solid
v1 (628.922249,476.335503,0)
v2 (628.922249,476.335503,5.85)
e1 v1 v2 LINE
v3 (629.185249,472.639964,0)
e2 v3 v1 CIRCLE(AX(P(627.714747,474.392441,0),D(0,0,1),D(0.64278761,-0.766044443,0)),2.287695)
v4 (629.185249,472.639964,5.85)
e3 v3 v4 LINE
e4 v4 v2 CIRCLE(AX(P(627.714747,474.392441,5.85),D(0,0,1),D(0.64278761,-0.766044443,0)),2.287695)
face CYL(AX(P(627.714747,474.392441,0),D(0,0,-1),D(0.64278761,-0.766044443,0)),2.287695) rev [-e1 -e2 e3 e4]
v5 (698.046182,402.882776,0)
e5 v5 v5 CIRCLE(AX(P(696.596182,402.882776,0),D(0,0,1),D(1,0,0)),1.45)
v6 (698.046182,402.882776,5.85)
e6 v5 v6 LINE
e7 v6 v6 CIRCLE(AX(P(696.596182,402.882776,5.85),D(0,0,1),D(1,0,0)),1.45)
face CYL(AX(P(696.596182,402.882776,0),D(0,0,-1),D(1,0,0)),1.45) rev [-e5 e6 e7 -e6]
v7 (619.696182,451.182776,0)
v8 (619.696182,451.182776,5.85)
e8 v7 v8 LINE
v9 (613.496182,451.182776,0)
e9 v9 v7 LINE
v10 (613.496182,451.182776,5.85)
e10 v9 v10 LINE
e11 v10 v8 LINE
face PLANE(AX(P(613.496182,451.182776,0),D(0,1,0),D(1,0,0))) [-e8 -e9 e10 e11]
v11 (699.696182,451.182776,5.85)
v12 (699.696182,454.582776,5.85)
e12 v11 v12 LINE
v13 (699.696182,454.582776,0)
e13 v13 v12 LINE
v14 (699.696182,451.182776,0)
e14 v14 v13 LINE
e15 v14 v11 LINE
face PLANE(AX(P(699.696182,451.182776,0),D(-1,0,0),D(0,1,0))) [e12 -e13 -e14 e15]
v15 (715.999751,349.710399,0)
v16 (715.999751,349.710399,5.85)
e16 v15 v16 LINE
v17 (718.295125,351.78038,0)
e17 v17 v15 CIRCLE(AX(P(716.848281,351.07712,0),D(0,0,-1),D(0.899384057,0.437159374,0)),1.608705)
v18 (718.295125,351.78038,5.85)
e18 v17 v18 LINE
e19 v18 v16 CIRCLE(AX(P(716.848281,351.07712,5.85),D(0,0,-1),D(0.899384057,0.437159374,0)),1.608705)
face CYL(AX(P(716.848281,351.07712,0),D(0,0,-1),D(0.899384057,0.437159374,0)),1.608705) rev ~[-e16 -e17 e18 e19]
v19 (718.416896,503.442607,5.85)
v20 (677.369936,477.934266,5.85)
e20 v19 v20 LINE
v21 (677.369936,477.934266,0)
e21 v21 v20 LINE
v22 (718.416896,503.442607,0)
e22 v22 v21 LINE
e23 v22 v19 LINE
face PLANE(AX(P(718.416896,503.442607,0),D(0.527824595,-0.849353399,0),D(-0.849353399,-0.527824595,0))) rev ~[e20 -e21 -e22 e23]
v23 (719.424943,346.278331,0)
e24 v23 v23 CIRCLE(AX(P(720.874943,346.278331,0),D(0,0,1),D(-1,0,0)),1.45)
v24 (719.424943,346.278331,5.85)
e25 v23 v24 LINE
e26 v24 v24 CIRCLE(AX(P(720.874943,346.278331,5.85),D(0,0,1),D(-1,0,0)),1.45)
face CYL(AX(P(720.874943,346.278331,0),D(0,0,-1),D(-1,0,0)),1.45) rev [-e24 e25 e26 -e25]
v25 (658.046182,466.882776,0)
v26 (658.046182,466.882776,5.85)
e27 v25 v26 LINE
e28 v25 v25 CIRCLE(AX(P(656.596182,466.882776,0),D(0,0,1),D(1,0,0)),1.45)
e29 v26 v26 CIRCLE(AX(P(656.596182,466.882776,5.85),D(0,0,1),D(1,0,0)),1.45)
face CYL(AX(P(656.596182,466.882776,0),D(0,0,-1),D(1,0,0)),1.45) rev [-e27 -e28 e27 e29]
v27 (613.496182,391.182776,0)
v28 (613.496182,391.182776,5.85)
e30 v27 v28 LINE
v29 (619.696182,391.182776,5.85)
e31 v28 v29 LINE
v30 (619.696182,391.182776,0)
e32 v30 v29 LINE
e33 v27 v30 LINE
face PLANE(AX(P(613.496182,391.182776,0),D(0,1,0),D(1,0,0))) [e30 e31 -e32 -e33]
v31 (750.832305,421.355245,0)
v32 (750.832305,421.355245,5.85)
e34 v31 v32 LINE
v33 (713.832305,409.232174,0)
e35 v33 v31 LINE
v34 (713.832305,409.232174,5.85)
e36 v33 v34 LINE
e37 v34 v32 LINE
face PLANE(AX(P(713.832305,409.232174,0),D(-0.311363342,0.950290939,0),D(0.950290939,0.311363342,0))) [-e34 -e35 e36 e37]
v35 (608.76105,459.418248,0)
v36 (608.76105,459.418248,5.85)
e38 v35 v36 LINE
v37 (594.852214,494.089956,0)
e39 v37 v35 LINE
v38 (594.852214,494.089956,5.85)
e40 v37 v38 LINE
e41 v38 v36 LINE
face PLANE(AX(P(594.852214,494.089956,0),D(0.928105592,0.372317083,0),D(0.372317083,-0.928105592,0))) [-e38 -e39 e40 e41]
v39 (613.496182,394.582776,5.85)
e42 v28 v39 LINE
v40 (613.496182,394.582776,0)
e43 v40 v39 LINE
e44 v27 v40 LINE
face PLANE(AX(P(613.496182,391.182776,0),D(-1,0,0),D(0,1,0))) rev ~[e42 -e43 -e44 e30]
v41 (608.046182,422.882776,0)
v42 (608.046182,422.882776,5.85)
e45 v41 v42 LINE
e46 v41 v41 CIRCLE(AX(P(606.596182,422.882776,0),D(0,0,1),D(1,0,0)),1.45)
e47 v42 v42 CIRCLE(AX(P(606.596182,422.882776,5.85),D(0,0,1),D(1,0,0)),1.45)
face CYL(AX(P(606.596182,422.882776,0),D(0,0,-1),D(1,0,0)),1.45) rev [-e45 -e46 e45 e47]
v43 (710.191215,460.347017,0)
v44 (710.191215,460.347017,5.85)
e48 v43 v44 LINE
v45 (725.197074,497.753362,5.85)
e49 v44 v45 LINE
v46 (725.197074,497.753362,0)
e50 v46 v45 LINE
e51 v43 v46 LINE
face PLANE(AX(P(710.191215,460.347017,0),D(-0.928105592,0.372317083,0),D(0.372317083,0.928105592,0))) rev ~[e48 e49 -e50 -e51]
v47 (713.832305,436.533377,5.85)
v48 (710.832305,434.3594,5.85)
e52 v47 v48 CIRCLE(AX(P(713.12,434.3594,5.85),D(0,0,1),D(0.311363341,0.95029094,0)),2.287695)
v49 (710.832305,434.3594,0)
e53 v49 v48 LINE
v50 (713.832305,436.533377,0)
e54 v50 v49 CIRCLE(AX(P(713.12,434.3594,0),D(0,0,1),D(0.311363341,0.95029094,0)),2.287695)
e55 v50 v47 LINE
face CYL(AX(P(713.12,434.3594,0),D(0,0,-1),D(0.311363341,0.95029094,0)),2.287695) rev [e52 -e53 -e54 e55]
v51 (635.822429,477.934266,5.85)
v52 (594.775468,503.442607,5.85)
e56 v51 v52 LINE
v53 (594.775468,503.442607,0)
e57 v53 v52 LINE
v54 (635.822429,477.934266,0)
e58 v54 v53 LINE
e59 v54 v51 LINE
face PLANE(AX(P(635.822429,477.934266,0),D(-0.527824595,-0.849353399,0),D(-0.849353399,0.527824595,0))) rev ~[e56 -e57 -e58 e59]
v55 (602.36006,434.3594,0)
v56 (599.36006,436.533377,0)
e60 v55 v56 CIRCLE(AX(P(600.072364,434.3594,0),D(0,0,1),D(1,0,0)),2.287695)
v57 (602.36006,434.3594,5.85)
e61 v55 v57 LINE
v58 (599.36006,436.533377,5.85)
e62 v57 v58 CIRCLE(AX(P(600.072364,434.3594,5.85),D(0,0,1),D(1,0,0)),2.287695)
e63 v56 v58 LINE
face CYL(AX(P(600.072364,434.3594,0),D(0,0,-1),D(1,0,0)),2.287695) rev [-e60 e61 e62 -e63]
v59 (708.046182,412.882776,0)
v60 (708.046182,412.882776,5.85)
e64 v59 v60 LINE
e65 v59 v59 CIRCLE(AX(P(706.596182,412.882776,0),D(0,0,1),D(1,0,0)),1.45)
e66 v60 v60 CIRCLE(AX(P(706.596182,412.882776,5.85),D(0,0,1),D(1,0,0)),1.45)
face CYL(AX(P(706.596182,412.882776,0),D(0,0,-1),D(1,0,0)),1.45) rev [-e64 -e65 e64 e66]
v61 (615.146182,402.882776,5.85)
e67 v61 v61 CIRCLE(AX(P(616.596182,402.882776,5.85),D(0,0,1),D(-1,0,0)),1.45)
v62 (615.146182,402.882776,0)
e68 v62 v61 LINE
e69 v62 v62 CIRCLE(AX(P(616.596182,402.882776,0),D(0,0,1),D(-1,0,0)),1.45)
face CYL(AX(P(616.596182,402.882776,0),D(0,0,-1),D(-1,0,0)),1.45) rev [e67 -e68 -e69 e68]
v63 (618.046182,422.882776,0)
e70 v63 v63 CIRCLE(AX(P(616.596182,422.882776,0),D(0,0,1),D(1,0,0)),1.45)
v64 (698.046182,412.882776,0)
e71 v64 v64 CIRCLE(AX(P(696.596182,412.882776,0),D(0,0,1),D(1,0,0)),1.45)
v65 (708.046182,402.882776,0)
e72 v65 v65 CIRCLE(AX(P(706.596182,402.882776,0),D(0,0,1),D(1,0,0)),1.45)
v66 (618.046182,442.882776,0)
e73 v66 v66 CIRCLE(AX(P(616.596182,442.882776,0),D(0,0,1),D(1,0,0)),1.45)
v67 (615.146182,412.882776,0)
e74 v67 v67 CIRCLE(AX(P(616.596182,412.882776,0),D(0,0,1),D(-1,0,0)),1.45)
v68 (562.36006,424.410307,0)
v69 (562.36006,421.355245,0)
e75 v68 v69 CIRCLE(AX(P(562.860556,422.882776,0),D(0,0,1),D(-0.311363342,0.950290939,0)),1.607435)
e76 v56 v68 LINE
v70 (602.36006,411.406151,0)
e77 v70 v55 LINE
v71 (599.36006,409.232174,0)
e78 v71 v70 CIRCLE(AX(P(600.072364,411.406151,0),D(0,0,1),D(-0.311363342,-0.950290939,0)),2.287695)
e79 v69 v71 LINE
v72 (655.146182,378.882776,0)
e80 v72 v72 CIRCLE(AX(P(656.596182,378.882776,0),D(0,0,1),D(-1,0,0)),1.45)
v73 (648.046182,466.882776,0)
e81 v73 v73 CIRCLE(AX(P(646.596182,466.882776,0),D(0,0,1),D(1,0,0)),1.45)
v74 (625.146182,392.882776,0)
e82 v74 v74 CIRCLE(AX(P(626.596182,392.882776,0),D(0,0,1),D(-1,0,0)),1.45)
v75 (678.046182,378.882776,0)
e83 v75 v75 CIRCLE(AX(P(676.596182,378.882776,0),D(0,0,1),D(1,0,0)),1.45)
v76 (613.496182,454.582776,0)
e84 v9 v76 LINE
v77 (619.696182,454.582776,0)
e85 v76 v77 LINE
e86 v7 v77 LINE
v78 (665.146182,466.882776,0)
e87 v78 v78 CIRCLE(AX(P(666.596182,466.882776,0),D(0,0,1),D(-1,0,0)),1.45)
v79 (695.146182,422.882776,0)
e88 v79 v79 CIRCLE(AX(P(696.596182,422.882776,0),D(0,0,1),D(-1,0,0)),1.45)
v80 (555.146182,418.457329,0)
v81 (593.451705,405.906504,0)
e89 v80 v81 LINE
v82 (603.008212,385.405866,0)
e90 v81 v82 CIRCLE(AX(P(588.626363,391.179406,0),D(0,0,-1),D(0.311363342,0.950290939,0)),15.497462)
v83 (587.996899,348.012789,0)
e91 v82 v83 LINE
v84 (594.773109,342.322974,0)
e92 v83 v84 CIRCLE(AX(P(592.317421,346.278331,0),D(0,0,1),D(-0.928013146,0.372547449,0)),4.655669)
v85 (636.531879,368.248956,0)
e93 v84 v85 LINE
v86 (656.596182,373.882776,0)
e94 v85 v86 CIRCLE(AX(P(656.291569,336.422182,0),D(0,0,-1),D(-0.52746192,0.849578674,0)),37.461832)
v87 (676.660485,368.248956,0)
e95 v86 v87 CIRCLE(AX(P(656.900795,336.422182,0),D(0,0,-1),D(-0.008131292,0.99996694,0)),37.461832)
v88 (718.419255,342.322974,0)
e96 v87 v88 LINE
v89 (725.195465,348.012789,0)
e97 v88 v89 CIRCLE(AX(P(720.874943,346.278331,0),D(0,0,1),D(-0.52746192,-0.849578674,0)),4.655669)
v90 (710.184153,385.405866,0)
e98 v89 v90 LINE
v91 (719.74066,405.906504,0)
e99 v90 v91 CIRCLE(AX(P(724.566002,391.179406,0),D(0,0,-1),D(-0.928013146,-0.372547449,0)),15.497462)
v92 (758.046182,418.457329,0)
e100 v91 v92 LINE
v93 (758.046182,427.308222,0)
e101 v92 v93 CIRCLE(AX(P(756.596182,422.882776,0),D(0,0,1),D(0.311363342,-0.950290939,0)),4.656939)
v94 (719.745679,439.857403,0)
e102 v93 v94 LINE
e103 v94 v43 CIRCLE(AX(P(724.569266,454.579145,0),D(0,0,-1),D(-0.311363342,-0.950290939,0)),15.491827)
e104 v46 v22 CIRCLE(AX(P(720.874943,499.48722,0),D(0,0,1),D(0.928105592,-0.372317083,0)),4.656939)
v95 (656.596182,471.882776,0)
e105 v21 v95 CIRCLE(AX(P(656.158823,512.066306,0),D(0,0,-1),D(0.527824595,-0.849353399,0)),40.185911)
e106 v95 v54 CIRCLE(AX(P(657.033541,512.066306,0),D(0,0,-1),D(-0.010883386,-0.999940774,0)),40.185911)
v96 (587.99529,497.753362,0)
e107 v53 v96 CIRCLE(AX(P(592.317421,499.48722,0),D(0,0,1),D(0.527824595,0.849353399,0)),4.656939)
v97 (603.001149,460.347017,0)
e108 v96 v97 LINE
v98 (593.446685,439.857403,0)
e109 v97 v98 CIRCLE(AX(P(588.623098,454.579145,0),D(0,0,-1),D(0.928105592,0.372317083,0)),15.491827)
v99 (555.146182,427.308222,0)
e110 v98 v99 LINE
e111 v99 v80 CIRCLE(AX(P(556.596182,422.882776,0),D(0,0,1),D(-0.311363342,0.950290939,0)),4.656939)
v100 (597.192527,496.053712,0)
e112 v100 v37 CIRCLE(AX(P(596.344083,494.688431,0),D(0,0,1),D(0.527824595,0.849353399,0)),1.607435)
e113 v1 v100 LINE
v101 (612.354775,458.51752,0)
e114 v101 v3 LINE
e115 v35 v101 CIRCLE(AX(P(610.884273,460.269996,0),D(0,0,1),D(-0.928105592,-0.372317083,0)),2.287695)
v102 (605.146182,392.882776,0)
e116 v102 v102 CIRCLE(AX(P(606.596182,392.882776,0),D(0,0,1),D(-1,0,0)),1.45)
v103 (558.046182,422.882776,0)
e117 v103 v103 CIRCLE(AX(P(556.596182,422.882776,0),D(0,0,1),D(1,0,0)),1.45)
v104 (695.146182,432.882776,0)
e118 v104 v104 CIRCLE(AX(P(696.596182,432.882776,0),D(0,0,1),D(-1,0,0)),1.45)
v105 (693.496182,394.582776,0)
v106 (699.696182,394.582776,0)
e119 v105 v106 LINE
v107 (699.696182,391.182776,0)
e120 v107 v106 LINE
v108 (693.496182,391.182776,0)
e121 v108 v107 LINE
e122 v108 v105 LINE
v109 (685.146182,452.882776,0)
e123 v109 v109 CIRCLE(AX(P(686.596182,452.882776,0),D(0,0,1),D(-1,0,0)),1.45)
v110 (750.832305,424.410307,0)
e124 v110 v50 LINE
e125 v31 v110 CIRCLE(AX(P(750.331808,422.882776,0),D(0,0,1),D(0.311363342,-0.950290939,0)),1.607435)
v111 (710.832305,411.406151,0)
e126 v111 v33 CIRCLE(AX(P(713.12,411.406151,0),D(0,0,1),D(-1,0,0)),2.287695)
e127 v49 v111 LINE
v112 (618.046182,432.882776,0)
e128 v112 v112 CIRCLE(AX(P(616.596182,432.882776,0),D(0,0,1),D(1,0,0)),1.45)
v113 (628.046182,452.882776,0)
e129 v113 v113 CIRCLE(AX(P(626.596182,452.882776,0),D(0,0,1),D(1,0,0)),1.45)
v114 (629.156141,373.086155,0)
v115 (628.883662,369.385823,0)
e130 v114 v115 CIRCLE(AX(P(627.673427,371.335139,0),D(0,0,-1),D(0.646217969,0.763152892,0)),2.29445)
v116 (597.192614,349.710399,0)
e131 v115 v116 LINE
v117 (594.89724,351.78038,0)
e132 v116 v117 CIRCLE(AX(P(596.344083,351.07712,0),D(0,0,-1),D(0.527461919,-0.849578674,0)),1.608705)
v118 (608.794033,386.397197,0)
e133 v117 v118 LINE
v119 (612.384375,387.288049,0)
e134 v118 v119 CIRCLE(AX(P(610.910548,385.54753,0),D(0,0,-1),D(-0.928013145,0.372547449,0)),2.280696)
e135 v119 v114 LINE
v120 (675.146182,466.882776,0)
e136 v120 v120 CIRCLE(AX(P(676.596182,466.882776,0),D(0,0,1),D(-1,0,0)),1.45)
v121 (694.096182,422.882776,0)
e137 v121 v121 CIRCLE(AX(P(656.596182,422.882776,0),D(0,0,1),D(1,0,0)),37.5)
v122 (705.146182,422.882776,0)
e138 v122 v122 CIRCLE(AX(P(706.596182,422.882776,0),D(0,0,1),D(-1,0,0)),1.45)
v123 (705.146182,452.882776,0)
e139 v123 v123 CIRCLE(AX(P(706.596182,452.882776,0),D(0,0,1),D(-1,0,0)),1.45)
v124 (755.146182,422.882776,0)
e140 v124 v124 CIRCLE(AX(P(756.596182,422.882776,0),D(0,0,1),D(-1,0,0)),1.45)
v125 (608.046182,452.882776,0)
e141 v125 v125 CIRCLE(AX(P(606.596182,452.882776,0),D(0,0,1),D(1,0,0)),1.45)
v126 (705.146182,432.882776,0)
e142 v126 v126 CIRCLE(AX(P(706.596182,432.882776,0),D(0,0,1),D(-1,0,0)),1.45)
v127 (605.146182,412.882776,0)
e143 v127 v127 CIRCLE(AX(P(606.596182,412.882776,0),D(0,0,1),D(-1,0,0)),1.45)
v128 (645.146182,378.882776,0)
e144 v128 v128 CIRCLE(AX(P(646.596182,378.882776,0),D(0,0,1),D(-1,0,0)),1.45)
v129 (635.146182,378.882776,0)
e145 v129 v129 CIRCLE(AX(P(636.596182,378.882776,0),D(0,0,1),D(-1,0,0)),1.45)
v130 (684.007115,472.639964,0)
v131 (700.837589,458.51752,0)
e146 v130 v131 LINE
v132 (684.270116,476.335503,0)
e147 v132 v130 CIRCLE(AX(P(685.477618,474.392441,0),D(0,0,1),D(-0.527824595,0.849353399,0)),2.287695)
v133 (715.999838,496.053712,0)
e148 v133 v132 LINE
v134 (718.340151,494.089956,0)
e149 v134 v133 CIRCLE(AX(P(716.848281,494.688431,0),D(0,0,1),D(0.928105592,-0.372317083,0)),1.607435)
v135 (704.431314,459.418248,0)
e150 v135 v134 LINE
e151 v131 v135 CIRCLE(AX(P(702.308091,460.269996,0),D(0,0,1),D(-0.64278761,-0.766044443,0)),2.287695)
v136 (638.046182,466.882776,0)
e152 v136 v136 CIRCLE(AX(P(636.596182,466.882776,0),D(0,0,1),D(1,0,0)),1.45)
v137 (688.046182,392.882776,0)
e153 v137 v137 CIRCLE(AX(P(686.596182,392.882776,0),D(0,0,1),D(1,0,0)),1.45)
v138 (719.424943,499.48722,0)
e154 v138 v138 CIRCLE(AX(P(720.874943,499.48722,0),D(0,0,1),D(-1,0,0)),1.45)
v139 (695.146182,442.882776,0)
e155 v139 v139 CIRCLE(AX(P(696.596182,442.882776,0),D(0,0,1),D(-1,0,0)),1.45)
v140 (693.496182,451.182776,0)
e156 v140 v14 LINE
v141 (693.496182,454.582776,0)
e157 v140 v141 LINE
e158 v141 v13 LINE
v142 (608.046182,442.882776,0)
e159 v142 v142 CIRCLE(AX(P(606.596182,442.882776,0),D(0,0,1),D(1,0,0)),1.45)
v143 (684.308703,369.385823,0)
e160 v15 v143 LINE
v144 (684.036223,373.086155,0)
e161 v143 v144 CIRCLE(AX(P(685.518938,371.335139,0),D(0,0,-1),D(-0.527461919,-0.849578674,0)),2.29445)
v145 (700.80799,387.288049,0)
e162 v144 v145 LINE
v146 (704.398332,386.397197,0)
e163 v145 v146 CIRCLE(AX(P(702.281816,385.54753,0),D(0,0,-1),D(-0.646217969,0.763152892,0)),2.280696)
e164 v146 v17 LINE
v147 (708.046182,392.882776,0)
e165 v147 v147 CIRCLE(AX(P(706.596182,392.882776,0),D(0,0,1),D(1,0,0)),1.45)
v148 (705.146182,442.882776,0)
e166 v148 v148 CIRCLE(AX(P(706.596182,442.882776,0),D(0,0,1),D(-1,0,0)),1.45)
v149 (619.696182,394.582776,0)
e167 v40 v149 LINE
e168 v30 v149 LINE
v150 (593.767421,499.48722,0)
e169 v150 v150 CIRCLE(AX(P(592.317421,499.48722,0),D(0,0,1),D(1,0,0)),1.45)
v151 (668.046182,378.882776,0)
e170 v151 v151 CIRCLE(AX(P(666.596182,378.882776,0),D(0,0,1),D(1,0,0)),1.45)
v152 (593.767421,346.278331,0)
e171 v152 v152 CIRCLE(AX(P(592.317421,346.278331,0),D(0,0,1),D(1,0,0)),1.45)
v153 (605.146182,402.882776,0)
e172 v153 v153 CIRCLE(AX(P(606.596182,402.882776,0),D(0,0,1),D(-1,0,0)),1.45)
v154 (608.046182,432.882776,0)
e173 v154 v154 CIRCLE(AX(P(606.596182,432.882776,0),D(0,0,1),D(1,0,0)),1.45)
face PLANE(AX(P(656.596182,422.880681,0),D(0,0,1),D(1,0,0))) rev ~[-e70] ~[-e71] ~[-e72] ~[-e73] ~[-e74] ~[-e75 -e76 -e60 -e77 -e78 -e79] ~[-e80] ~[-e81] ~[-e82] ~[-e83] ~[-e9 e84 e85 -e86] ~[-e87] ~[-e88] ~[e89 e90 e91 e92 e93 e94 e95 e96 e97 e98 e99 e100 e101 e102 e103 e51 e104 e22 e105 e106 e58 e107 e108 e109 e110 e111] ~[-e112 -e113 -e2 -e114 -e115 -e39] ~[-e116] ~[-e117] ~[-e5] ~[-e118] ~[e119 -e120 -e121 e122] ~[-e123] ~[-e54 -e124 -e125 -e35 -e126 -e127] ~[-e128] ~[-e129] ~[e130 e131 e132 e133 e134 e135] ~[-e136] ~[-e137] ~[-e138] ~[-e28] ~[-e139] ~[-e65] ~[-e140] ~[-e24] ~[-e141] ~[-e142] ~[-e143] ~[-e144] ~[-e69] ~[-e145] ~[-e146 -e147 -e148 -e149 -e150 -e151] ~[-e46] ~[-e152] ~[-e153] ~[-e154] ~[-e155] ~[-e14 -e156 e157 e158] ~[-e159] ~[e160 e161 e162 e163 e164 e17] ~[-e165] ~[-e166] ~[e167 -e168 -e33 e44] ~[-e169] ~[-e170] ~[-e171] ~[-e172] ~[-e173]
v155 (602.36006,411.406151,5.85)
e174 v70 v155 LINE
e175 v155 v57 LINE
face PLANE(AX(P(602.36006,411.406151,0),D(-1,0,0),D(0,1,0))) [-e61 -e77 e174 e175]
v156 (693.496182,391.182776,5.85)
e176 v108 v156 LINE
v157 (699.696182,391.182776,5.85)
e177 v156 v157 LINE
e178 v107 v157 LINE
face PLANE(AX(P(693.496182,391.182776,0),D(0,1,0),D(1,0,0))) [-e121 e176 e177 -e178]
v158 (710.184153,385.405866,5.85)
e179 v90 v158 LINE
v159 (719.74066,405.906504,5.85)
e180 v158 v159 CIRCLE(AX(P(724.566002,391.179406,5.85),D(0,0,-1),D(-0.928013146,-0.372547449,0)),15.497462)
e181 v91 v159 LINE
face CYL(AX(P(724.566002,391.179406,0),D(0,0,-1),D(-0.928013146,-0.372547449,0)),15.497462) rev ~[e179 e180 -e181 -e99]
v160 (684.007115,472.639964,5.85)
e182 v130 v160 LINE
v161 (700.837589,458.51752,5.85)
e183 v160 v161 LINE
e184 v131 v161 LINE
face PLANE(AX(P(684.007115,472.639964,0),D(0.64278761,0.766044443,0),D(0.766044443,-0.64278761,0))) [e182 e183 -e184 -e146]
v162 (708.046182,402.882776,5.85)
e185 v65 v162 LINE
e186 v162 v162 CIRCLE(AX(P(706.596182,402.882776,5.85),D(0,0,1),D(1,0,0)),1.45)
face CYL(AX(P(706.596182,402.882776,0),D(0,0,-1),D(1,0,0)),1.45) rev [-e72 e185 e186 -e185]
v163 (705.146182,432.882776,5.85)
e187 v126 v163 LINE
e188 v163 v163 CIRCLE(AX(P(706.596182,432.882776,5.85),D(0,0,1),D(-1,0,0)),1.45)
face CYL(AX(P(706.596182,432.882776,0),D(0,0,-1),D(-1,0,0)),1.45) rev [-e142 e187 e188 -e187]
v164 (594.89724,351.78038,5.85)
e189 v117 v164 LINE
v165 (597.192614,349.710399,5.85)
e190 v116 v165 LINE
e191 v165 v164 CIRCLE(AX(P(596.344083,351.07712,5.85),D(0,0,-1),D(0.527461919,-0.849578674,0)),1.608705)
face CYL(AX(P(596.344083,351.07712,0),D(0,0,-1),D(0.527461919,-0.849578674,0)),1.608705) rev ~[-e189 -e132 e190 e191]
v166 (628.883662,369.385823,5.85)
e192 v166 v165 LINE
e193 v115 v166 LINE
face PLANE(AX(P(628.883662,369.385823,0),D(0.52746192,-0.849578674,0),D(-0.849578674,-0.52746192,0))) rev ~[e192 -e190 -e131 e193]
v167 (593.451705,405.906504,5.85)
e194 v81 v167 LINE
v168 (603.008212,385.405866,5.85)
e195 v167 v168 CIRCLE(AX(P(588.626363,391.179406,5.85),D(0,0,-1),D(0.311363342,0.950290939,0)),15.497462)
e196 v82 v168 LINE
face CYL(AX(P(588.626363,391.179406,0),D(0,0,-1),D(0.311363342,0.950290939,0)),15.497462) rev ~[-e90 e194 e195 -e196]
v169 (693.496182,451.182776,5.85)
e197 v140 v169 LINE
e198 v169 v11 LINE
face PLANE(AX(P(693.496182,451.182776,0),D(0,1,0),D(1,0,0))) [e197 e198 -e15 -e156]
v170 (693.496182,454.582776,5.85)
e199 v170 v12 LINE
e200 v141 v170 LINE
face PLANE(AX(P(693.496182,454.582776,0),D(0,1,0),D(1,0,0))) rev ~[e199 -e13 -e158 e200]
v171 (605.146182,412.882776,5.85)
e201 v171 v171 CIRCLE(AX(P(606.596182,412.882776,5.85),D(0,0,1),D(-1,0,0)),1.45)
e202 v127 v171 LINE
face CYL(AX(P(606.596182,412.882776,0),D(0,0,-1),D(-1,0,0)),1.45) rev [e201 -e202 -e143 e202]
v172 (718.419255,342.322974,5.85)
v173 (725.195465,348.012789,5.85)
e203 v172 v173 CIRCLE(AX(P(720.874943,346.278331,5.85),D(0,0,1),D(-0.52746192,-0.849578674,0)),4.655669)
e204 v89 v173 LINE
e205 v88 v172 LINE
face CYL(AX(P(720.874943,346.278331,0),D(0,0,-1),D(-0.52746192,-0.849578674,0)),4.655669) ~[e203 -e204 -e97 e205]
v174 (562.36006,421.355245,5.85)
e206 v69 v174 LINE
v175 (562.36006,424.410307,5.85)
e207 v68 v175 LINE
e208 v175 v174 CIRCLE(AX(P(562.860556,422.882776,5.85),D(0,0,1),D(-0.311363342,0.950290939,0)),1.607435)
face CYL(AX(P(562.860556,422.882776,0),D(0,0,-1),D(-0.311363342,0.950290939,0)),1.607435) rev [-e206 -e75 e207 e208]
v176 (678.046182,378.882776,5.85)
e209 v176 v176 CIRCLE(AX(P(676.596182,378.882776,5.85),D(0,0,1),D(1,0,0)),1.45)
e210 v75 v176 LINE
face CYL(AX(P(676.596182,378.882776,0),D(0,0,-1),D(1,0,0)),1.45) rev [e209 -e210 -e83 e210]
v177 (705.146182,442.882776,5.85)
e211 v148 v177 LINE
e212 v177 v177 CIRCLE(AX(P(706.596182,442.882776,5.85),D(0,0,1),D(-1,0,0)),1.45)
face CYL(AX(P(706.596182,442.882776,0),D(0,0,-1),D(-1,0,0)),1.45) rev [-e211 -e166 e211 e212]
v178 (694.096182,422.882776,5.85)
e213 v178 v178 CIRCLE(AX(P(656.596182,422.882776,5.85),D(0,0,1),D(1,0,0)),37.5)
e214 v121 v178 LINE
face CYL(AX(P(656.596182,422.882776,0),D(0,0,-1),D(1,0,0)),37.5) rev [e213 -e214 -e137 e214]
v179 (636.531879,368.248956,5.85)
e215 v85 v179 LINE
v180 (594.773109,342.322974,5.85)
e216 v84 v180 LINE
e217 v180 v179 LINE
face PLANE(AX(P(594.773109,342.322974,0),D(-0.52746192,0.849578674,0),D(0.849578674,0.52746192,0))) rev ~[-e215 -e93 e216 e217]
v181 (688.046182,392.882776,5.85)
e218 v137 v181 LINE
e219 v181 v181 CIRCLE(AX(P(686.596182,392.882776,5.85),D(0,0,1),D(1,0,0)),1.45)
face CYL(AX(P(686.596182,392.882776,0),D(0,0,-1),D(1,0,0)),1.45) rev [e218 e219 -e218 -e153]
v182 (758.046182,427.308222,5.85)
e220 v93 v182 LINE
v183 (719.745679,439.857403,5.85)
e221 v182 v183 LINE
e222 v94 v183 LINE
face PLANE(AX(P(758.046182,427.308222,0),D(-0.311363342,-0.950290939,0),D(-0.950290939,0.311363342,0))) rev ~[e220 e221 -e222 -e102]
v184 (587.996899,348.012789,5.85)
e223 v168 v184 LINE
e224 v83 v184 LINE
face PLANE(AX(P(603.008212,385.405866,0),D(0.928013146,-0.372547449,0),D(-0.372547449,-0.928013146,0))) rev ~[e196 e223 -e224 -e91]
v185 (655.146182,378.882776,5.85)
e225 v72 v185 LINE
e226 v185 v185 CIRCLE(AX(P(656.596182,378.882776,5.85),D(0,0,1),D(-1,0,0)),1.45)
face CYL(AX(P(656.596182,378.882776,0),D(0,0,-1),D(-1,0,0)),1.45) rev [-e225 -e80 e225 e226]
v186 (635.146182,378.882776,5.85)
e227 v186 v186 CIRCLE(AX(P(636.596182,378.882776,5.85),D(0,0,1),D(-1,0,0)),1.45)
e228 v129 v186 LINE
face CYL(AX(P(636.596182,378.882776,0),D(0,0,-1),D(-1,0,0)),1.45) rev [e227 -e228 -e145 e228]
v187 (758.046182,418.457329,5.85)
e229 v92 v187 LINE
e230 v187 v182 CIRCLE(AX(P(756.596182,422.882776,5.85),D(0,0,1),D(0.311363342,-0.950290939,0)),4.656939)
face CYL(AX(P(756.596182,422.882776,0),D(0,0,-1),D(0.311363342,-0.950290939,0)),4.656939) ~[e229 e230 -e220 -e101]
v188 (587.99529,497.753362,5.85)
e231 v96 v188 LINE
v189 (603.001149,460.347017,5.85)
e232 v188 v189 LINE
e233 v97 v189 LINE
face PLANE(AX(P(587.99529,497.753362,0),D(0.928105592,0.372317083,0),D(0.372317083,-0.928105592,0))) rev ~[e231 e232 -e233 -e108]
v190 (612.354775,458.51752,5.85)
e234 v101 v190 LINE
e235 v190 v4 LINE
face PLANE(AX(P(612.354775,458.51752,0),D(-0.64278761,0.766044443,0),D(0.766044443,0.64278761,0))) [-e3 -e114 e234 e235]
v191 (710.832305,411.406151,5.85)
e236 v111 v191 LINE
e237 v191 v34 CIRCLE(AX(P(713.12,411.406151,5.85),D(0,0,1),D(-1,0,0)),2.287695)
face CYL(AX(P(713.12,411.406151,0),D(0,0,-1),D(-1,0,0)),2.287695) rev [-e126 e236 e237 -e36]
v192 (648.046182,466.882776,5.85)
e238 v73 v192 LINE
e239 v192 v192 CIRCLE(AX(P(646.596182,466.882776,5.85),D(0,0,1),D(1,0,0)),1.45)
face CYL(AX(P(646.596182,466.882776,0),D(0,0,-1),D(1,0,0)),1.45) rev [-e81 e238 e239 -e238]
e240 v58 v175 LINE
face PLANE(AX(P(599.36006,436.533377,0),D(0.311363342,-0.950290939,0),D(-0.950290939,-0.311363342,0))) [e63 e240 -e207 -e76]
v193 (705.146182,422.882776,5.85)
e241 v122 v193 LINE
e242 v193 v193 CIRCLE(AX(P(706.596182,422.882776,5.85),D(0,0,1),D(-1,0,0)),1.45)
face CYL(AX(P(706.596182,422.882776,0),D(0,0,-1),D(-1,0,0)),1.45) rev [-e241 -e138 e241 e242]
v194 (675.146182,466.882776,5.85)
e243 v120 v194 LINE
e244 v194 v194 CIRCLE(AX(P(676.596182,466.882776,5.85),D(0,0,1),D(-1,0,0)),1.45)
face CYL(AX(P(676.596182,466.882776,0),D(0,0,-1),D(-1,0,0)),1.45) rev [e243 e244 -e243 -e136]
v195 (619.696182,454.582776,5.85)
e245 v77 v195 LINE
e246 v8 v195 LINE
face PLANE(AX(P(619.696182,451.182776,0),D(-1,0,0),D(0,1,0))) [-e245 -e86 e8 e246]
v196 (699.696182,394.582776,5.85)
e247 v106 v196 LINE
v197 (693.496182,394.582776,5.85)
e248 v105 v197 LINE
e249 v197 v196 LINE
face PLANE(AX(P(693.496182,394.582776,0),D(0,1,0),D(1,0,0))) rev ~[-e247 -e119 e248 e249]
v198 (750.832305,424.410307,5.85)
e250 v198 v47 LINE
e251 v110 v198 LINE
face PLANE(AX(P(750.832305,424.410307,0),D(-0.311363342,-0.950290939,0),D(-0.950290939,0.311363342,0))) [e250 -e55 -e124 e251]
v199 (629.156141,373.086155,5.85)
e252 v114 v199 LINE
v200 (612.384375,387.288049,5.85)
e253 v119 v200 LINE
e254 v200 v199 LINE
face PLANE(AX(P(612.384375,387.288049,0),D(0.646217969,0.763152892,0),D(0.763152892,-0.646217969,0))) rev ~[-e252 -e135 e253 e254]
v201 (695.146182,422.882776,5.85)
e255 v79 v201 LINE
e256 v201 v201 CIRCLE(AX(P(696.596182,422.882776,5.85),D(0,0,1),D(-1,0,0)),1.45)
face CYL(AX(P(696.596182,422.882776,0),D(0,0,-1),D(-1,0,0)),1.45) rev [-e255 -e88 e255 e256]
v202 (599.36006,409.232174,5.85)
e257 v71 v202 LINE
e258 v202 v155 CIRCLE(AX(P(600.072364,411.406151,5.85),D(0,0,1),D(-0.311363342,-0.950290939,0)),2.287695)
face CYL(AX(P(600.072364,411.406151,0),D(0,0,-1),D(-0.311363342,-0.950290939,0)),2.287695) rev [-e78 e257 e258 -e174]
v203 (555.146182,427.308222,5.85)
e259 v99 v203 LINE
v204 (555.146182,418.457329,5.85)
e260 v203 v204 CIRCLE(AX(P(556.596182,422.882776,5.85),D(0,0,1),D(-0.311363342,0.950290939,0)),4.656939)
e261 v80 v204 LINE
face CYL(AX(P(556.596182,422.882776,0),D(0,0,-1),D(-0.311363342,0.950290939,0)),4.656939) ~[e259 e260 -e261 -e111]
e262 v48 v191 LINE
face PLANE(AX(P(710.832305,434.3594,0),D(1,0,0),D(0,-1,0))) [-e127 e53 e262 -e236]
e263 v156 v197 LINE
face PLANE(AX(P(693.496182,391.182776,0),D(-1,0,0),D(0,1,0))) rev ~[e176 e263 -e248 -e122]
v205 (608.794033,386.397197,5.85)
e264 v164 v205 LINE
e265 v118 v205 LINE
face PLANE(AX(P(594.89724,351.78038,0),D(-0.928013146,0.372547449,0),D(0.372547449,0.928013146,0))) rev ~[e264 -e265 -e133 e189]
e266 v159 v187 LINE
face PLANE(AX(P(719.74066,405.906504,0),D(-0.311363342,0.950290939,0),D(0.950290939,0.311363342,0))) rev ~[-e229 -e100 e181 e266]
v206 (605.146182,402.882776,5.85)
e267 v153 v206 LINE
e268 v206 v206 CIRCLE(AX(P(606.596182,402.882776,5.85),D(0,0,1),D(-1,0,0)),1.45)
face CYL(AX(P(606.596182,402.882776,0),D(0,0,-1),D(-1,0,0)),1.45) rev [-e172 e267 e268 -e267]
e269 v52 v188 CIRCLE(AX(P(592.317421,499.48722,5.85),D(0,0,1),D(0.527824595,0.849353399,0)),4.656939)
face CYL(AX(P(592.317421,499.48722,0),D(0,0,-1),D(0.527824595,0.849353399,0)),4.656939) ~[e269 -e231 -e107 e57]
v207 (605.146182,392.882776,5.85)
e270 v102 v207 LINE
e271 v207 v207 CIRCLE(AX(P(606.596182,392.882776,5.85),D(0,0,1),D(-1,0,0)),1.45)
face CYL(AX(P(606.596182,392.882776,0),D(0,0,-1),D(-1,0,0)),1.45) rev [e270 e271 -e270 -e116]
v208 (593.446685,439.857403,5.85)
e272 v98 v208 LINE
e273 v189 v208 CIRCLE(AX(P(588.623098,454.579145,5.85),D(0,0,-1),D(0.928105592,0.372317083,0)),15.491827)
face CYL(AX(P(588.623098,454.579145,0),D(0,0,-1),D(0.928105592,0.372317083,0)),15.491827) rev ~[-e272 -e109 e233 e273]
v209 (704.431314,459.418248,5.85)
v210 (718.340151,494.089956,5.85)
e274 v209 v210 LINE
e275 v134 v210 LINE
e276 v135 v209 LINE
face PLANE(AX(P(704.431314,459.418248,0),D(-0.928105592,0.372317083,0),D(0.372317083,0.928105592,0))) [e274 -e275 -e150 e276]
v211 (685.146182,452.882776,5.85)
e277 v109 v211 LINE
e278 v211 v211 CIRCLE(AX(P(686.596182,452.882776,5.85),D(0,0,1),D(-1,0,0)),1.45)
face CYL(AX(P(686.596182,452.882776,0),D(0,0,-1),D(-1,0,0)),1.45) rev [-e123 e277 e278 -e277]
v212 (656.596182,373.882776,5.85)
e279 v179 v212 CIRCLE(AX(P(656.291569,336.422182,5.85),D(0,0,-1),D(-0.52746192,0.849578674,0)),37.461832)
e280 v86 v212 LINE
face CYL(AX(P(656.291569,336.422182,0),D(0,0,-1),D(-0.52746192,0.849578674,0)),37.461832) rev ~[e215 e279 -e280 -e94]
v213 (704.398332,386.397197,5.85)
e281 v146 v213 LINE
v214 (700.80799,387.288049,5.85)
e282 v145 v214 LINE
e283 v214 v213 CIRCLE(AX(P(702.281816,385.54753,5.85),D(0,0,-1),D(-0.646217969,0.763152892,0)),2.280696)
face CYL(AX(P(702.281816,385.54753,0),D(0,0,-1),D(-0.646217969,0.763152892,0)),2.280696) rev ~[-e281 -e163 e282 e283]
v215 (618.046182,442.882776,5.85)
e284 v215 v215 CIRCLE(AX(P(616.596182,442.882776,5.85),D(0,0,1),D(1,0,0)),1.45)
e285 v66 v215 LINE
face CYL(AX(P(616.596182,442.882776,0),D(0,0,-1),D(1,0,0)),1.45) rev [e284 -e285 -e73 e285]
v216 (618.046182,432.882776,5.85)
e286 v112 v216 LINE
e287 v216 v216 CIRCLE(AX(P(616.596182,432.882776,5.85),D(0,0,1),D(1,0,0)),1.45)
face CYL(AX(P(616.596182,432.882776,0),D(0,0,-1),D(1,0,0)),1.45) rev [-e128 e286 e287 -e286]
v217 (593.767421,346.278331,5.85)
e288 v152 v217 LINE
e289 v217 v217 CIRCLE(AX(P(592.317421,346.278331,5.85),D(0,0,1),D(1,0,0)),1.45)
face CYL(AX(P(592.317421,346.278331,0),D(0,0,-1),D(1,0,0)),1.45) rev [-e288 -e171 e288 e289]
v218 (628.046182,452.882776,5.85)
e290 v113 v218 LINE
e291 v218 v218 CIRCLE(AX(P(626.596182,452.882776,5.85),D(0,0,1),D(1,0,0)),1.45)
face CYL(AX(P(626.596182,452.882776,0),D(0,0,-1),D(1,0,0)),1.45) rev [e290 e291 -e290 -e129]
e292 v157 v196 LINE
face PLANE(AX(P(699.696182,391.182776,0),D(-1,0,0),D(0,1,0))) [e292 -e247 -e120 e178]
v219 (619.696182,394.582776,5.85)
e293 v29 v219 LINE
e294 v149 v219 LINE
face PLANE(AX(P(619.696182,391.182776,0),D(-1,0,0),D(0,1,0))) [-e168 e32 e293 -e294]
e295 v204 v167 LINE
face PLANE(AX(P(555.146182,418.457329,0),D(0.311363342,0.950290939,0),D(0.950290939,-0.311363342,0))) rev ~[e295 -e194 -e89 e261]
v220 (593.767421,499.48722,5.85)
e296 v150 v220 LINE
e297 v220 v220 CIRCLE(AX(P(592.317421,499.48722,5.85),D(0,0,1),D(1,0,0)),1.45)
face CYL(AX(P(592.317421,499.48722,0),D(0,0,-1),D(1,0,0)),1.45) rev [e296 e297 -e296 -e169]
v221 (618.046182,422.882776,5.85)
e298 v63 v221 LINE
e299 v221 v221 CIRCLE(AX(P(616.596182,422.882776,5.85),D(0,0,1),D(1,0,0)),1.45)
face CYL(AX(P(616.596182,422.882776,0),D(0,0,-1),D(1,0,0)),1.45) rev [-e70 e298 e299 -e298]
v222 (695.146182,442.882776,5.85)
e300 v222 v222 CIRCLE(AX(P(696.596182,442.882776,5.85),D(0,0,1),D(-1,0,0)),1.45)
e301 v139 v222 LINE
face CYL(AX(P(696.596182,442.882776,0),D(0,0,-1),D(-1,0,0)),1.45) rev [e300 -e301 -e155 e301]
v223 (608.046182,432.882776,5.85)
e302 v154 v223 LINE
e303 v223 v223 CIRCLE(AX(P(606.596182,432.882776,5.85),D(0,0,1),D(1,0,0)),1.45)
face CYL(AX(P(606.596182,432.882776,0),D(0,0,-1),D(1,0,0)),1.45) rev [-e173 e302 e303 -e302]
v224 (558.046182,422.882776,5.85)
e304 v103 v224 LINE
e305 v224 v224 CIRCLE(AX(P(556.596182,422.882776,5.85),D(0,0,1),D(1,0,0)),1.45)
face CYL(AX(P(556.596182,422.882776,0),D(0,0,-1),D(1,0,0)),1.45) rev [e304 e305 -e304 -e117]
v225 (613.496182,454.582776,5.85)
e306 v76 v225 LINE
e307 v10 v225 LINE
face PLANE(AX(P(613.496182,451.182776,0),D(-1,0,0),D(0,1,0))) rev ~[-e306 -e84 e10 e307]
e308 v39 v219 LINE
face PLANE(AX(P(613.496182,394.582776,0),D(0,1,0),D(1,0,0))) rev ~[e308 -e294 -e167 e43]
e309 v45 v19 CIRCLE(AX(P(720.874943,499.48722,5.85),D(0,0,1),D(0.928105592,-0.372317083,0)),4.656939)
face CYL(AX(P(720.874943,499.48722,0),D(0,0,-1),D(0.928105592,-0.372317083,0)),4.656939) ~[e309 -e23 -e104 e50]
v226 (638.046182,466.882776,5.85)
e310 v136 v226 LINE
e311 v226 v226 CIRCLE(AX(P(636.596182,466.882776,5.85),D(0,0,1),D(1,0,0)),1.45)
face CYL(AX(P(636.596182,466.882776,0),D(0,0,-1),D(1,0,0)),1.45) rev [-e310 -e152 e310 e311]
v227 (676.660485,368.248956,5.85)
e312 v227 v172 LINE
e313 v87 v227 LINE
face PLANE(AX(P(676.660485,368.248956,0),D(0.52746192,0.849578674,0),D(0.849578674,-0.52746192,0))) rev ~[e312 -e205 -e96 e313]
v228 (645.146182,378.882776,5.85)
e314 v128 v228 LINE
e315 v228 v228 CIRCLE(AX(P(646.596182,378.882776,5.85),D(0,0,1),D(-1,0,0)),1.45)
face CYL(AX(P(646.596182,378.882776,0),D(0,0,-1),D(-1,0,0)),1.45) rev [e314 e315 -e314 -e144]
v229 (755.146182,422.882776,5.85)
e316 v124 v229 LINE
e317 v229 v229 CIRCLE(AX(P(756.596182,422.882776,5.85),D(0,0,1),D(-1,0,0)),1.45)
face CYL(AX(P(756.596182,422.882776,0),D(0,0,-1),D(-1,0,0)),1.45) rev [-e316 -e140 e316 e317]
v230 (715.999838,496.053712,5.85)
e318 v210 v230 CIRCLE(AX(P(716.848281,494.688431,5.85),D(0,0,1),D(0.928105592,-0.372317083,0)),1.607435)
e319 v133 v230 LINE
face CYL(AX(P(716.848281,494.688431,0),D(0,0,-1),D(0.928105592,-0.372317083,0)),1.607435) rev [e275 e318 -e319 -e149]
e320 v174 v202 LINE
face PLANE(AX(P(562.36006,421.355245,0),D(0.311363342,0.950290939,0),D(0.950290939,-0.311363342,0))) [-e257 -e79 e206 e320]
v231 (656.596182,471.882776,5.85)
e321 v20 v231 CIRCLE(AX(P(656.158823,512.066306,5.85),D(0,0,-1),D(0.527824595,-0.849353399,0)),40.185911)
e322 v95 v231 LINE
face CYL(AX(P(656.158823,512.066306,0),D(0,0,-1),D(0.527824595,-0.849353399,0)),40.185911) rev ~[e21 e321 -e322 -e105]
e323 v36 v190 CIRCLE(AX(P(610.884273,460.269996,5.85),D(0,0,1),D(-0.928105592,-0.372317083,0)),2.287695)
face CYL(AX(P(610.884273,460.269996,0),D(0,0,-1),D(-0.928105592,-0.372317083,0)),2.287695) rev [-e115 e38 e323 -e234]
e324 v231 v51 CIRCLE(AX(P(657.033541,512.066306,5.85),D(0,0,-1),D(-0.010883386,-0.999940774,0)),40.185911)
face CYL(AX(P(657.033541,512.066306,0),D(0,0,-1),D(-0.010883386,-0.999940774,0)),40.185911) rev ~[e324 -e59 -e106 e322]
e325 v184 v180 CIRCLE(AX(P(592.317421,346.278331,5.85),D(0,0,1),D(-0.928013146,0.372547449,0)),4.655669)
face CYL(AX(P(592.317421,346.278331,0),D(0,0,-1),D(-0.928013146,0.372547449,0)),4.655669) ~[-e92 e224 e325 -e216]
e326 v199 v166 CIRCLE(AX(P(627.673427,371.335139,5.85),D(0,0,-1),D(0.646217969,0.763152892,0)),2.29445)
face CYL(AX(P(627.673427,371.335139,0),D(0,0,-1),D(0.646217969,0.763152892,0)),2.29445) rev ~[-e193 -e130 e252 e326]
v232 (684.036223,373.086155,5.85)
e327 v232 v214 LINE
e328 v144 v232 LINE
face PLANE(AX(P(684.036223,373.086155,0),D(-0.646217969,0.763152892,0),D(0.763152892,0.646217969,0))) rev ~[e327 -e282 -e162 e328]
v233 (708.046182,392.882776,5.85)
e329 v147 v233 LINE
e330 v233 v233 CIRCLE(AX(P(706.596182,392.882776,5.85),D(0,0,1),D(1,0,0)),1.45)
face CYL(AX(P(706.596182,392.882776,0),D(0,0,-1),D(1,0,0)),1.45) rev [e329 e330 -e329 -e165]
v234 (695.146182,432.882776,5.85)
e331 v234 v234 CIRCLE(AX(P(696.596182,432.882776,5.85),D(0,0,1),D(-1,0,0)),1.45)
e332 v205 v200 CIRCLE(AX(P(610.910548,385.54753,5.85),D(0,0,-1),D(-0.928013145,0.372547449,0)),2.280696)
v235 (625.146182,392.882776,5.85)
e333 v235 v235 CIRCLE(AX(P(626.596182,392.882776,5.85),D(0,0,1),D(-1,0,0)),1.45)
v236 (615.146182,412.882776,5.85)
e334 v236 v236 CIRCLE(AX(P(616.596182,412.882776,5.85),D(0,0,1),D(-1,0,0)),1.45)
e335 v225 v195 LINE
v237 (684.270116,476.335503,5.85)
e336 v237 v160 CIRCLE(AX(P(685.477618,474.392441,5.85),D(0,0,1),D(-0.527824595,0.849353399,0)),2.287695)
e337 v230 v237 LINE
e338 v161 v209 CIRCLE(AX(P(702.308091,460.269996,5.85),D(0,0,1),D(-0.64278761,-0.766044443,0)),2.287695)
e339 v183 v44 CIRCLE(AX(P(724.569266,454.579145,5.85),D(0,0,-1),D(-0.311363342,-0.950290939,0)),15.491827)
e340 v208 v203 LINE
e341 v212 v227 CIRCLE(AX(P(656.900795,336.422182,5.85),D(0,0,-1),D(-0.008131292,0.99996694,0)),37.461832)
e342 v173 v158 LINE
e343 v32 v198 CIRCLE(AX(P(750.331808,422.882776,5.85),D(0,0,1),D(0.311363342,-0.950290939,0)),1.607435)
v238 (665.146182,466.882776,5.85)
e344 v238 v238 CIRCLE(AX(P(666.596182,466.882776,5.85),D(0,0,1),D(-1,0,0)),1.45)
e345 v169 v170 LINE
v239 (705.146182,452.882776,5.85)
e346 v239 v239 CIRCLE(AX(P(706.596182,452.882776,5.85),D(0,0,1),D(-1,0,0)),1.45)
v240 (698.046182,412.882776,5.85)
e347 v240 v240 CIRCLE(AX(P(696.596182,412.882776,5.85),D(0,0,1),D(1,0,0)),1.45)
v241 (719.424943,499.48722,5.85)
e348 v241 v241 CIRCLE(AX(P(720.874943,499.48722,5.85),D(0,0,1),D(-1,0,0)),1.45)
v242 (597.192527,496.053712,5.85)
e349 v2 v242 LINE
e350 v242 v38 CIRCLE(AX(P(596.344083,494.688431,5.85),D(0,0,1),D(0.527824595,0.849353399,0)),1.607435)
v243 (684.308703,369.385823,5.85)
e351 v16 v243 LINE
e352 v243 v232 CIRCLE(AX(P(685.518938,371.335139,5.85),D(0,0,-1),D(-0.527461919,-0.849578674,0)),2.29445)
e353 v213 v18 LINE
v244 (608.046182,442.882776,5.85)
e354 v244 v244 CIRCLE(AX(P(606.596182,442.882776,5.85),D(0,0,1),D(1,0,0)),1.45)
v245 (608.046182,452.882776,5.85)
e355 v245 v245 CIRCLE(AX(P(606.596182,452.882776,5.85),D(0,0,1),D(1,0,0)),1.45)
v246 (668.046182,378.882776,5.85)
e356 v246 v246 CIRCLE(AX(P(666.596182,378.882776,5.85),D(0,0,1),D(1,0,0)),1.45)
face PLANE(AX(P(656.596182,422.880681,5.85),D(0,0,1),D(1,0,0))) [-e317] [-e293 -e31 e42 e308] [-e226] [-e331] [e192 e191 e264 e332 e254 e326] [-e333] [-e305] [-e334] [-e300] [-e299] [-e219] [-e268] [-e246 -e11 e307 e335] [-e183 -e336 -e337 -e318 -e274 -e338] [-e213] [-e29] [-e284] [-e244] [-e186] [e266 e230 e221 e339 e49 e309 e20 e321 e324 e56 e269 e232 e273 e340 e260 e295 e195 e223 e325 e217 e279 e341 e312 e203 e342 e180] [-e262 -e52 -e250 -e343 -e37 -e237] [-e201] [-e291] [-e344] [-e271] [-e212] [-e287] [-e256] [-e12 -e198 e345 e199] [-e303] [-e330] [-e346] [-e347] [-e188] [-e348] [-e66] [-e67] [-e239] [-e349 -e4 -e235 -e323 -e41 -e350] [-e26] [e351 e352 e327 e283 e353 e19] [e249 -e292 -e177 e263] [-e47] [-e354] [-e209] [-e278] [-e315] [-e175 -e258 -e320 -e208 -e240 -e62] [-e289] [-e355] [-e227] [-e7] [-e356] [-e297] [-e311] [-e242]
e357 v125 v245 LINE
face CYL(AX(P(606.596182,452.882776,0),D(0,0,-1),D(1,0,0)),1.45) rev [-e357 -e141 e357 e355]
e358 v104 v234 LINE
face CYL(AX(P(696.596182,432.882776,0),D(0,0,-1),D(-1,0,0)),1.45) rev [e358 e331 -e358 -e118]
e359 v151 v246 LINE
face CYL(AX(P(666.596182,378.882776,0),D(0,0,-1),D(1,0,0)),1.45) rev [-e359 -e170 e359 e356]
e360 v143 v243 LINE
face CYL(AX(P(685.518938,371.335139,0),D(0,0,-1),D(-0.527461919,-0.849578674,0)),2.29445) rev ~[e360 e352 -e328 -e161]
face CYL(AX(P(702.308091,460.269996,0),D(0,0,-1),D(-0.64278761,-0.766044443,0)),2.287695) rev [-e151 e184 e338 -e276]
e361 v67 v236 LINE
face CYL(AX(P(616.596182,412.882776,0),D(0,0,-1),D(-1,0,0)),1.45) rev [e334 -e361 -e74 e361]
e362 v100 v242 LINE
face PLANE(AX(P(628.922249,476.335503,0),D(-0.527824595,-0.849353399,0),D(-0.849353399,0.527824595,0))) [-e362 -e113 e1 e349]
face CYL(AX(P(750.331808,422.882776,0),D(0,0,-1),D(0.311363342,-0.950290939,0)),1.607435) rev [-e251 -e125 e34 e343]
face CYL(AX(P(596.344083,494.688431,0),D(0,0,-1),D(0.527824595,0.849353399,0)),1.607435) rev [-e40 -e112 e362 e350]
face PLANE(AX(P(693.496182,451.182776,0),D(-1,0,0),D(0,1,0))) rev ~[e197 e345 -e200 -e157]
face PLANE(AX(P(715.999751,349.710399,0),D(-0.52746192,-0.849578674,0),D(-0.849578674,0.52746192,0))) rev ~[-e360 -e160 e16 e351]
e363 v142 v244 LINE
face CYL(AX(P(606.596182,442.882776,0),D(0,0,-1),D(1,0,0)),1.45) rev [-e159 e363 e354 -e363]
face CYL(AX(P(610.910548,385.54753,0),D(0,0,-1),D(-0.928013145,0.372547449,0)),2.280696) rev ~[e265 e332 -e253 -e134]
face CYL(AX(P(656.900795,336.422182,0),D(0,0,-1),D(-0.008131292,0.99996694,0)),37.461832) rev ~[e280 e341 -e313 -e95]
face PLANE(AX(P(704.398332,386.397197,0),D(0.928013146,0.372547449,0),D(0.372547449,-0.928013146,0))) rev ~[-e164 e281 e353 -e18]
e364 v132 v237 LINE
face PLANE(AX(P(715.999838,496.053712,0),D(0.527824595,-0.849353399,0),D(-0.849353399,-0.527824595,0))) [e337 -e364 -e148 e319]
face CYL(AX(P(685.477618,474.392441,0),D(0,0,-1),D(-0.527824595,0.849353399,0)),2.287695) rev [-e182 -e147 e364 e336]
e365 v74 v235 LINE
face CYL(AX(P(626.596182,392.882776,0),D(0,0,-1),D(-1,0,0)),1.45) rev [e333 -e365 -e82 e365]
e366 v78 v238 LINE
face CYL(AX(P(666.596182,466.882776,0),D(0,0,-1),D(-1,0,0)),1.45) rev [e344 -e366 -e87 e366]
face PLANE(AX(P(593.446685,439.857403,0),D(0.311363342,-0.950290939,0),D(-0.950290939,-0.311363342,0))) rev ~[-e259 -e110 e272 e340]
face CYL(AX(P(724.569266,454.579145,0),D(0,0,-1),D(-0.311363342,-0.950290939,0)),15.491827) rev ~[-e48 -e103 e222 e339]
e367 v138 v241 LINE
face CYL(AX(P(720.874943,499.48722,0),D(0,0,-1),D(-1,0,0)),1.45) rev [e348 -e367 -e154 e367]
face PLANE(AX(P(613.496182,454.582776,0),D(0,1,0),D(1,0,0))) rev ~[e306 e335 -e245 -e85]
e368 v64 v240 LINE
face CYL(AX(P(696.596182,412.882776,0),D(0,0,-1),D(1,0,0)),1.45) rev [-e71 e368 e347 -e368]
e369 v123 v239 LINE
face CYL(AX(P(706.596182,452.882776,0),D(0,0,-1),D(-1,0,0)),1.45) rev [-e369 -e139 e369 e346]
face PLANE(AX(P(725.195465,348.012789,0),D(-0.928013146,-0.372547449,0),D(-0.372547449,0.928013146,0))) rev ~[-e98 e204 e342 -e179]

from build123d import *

# Parameters (mm, degrees)
SKETCH1_R           = 1.450000006
SKETCH1_R_2         = 1.45
SKETCH1_R_3         = 37.5
SKETCH1_W           = 6.2
SKETCH1_H           = 3.4
BOSS_EXTRUDE1_DEPTH = 5.85


with BuildPart() as part:
    # Sketch1 → Boss-Extrude1 (new body)
    with BuildSketch(Plane.XY):
        with BuildLine():
            Line((587.995290395, 497.753361998), (603.001149052, 460.347016836))
            ThreePointArc((603.001149052, 460.347016836), (602.663461243, 448.032016356), (593.446685098, 439.857402764))
            Line((593.446685098, 439.857402764), (555.146182231, 427.30822221))
            ThreePointArc((555.146182231, 427.30822221), (551.939243509, 422.882775531), (555.146182231, 418.457328853))
            Line((555.146182231, 418.457328853), (593.451704621, 405.906503648))
            ThreePointArc((593.451704621, 405.906503648), (602.672646523, 397.727172938), (603.008211739, 385.405865524))
            Line((603.008211739, 385.405865524), (587.996899243, 348.012788825))
            ThreePointArc((587.996899243, 348.012788825), (589.323611121, 342.712892318), (594.773109373, 342.32297413))
            Line((594.773109373, 342.32297413), (636.531879216, 368.248955529))
            ThreePointArc((636.531879216, 368.248955529), (646.164378733, 372.489187309), (656.596182238, 373.882775531))
            ThreePointArc((656.596182238, 373.882775531), (667.027985743, 372.489187309), (676.66048526, 368.248955529))
            Line((676.66048526, 368.248955529), (718.419255103, 342.32297413))
            ThreePointArc((718.419255103, 342.32297413), (723.868753355, 342.712892318), (725.195465233, 348.012788825))
            Line((725.195465233, 348.012788825), (710.184152737, 385.405865524))
            ThreePointArc((710.184152737, 385.405865524), (710.519717953, 397.727172938), (719.740659854, 405.906503648))
            Line((719.740659854, 405.906503648), (758.046182244, 418.457328853))
            ThreePointArc((758.046182244, 418.457328853), (761.253120966, 422.882775531), (758.046182244, 427.30822221))
            Line((758.046182244, 427.30822221), (719.745679378, 439.857402764))
            ThreePointArc((719.745679378, 439.857402764), (710.528903233, 448.032016356), (710.191215423, 460.347016836))
            Line((710.191215423, 460.347016836), (725.197074081, 497.753361998))
            ThreePointArc((725.197074081, 497.753361998), (723.86836572, 503.054641878), (718.416896408, 503.442606583))
            Line((718.416896408, 503.442606583), (677.369935548, 477.934266348))
            ThreePointArc((677.369935548, 477.934266348), (667.39800528, 473.484079569), (656.596182238, 471.882775531))
            ThreePointArc((656.596182238, 471.882775531), (645.794359196, 473.484079569), (635.822428927, 477.934266348))
            Line((635.822428927, 477.934266348), (594.775468067, 503.442606583))
            ThreePointArc((594.775468067, 503.442606583), (589.323998755, 503.054641878), (587.995290395, 497.753361998))
        make_face()
        with Locations((592.317421269, 499.487219843)):
            Circle(SKETCH1_R, mode=Mode.SUBTRACT)
        with Locations(Location((706.596182238, 432.882775531, 0), (0, 0, 180))):
            Circle(SKETCH1_R_2, mode=Mode.SUBTRACT)
        with Locations(Location((706.596182238, 442.882775531, 0), (0, 0, 180))):
            Circle(SKETCH1_R_2, mode=Mode.SUBTRACT)
        with Locations(Location((706.596182238, 452.882775531, 0), (0, 0, 180))):
            Circle(SKETCH1_R_2, mode=Mode.SUBTRACT)
        with Locations((706.596182238, 392.882775531)):
            Circle(SKETCH1_R_2, mode=Mode.SUBTRACT)
        with Locations((556.596182238, 422.882775531)):
            Circle(SKETCH1_R, mode=Mode.SUBTRACT)
        with Locations(Location((646.596182238, 378.882775531, 0), (0, 0, 180))):
            Circle(SKETCH1_R_2, mode=Mode.SUBTRACT)
        with Locations((656.596182238, 422.882775531)):
            Circle(SKETCH1_R_3, mode=Mode.SUBTRACT)
        with Locations(Location((636.596182238, 378.882775531, 0), (0, 0, 180))):
            Circle(SKETCH1_R_2, mode=Mode.SUBTRACT)
        with Locations((706.596182238, 402.882775531)):
            Circle(SKETCH1_R_2, mode=Mode.SUBTRACT)
        with Locations((656.596182238, 466.882775531)):
            Circle(SKETCH1_R_2, mode=Mode.SUBTRACT)
        with Locations(Location((696.596182238, 432.882775531, 0), (0, 0, 180))):
            Circle(SKETCH1_R_2, mode=Mode.SUBTRACT)
        with Locations((592.317421269, 346.278331219)):
            Circle(SKETCH1_R, mode=Mode.SUBTRACT)
        with Locations((706.596182238, 412.882775531)):
            Circle(SKETCH1_R_2, mode=Mode.SUBTRACT)
        with Locations(Location((656.596182238, 378.882775531, 0), (0, 0, 180))):
            Circle(SKETCH1_R_2, mode=Mode.SUBTRACT)
        with Locations(Location((696.596182238, 442.882775531, 0), (0, 0, 180))):
            Circle(SKETCH1_R_2, mode=Mode.SUBTRACT)
        with Locations((696.596182238, 402.882775531)):
            Circle(SKETCH1_R_2, mode=Mode.SUBTRACT)
        with Locations((696.596182238, 412.882775531)):
            Circle(SKETCH1_R_2, mode=Mode.SUBTRACT)
        with Locations((646.596182238, 466.882775531)):
            Circle(SKETCH1_R_2, mode=Mode.SUBTRACT)
        with Locations((636.596182238, 466.882775531)):
            Circle(SKETCH1_R_2, mode=Mode.SUBTRACT)
        with Locations(Location((696.596182238, 422.882775531, 0), (0, 0, 180))):
            Circle(SKETCH1_R_2, mode=Mode.SUBTRACT)
        with Locations(Location((676.596182238, 466.882775531, 0), (0, 0, 180))):
            Circle(SKETCH1_R_2, mode=Mode.SUBTRACT)
        with Locations(Location((666.596182238, 466.882775531, 0), (0, 0, 180))):
            Circle(SKETCH1_R_2, mode=Mode.SUBTRACT)
        with Locations(Location((706.596182238, 422.882775531, 0), (0, 0, 180))):
            Circle(SKETCH1_R_2, mode=Mode.SUBTRACT)
        with Locations(Location((686.596182238, 452.882775531, 0), (0, 0, 180))):
            Circle(SKETCH1_R_2, mode=Mode.SUBTRACT)
        with Locations((686.596182238, 392.882775531)):
            Circle(SKETCH1_R_2, mode=Mode.SUBTRACT)
        with Locations(Location((626.596182238, 392.882775531, 0), (0, 0, 180))):
            Circle(SKETCH1_R_2, mode=Mode.SUBTRACT)
        with Locations(Location((720.874943207, 346.278331219, 0), (0, 0, 180))):
            Circle(SKETCH1_R, mode=Mode.SUBTRACT)
        with Locations((676.596182238, 378.882775531)):
            Circle(SKETCH1_R_2, mode=Mode.SUBTRACT)
        with Locations((666.596182238, 378.882775531)):
            Circle(SKETCH1_R_2, mode=Mode.SUBTRACT)
        with Locations(Location((756.596182238, 422.882775531, 0), (0, 0, 180))):
            Circle(SKETCH1_R, mode=Mode.SUBTRACT)
        with Locations((626.596182238, 452.882775531)):
            Circle(SKETCH1_R_2, mode=Mode.SUBTRACT)
        with Locations((606.596182238, 422.882775531)):
            Circle(SKETCH1_R_2, mode=Mode.SUBTRACT)
        with Locations((616.596182238, 422.882775531)):
            Circle(SKETCH1_R_2, mode=Mode.SUBTRACT)
        with Locations(Location((616.596182238, 412.882775531, 0), (0, 0, 180))):
            Circle(SKETCH1_R_2, mode=Mode.SUBTRACT)
        with Locations(Location((720.874943207, 499.487219843, 0), (0, 0, 180))):
            Circle(SKETCH1_R, mode=Mode.SUBTRACT)
        with Locations(Location((616.596182238, 402.882775531, 0), (0, 0, 180))):
            Circle(SKETCH1_R_2, mode=Mode.SUBTRACT)
        with Locations((616.596182238, 442.882775531)):
            Circle(SKETCH1_R_2, mode=Mode.SUBTRACT)
        with Locations(Location((606.596182238, 412.882775531, 0), (0, 0, 180))):
            Circle(SKETCH1_R_2, mode=Mode.SUBTRACT)
        with Locations((616.596182238, 432.882775531)):
            Circle(SKETCH1_R_2, mode=Mode.SUBTRACT)
        with Locations(Location((606.596182238, 402.882775531, 0), (0, 0, 180))):
            Circle(SKETCH1_R_2, mode=Mode.SUBTRACT)
        with Locations(Location((606.596182238, 392.882775531, 0), (0, 0, 180))):
            Circle(SKETCH1_R_2, mode=Mode.SUBTRACT)
        with Locations((606.596182238, 452.882775531)):
            Circle(SKETCH1_R_2, mode=Mode.SUBTRACT)
        with Locations((606.596182238, 442.882775531)):
            Circle(SKETCH1_R_2, mode=Mode.SUBTRACT)
        with Locations((606.596182238, 432.882775531)):
            Circle(SKETCH1_R_2, mode=Mode.SUBTRACT)
        with BuildLine():
            Line((594.852213644, 494.089955534), (608.761050105, 459.418248349))
            ThreePointArc((608.761050105, 459.418248349), (610.328090614, 458.05093997), (612.354775393, 458.517520045))
            Line((612.354775393, 458.517520045), (629.185249241, 472.639964443))
            ThreePointArc((629.185249241, 472.639964443), (629.996671034, 474.554838547), (628.922248871, 476.335502797))
            Line((628.922248871, 476.335502797), (597.192526929, 496.053711548))
            ThreePointArc((597.192526929, 496.053711548), (595.310843783, 495.919797808), (594.852213644, 494.089955534))
        make_face(mode=Mode.SUBTRACT)
        with Locations((696.596182238, 392.882775531)):
            Rectangle(SKETCH1_W, SKETCH1_H, mode=Mode.SUBTRACT)
        with BuildLine():
            Line((562.360059701, 421.35524452), (599.360059701, 409.232174436))
            ThreePointArc((599.360059701, 409.232174436), (601.41475291, 409.553708225), (602.360059701, 411.406150729))
            Line((602.360059701, 411.406150729), (602.360059701, 434.359400333))
            ThreePointArc((602.360059701, 434.359400333), (601.41475291, 436.211842837), (599.360059701, 436.533376627))
            Line((599.360059701, 436.533376627), (562.360059701, 424.410306542))
            ThreePointArc((562.360059701, 424.410306542), (561.253120966, 422.882775531), (562.360059701, 421.35524452))
        make_face(mode=Mode.SUBTRACT)
        with BuildLine():
            Line((594.897239667, 351.78038038), (608.794032765, 386.397196889))
            ThreePointArc((608.794032765, 386.397196889), (610.36130643, 387.761102695), (612.3843749, 387.288049044))
            Line((612.3843749, 387.288049044), (629.156141394, 373.086154531))
            ThreePointArc((629.156141394, 373.086154531), (629.961681006, 371.166639364), (628.883661612, 369.385823055))
            Line((628.883661612, 369.385823055), (597.19261369, 349.710398658))
            ThreePointArc((597.19261369, 349.710398658), (595.266724956, 349.882452422), (594.897239667, 351.78038038))
        make_face(mode=Mode.SUBTRACT)
        with Locations((616.596182238, 452.882775531)):
            Rectangle(SKETCH1_W, SKETCH1_H, mode=Mode.SUBTRACT)
        with Locations((696.596182238, 452.882775531)):
            Rectangle(SKETCH1_W, SKETCH1_H, mode=Mode.SUBTRACT)
        with BuildLine():
            Line((715.999750786, 349.710398658), (684.308702864, 369.385823055))
            ThreePointArc((684.308702864, 369.385823055), (683.230683469, 371.166639364), (684.036223082, 373.086154531))
            Line((684.036223082, 373.086154531), (700.807989576, 387.288049044))
            ThreePointArc((700.807989576, 387.288049044), (702.831058046, 387.761102695), (704.39833171, 386.397196889))
            Line((704.39833171, 386.397196889), (718.295124809, 351.78038038))
            ThreePointArc((718.295124809, 351.78038038), (717.92563952, 349.882452422), (715.999750786, 349.710398658))
        make_face(mode=Mode.SUBTRACT)
        with BuildLine():
            Line((750.832304774, 424.410306542), (713.832304774, 436.533376627))
            ThreePointArc((713.832304774, 436.533376627), (711.777611566, 436.211842837), (710.832304774, 434.359400333))
            Line((710.832304774, 434.359400333), (710.832304774, 411.406150729))
            ThreePointArc((710.832304774, 411.406150729), (711.777611565, 409.553708225), (713.832304774, 409.232174436))
            Line((713.832304774, 409.232174436), (750.832304774, 421.35524452))
            ThreePointArc((750.832304774, 421.35524452), (751.939243509, 422.882775531), (750.832304774, 424.410306542))
        make_face(mode=Mode.SUBTRACT)
        with BuildLine():
            Line((684.007115235, 472.639964443), (700.837589083, 458.517520045))
            ThreePointArc((700.837589083, 458.517520045), (702.864273862, 458.05093997), (704.431314371, 459.418248349))
            Line((704.431314371, 459.418248349), (718.340150832, 494.089955534))
            ThreePointArc((718.340150832, 494.089955534), (717.881520693, 495.919797808), (715.999837547, 496.053711548))
            Line((715.999837547, 496.053711548), (684.270115605, 476.335502797))
            ThreePointArc((684.270115605, 476.335502797), (683.195693441, 474.554838547), (684.007115235, 472.639964443))
        make_face(mode=Mode.SUBTRACT)
        with Locations((616.596182238, 392.882775531)):
            Rectangle(SKETCH1_W, SKETCH1_H, mode=Mode.SUBTRACT)
    extrude(amount=BOSS_EXTRUDE1_DEPTH)


solid = part.part
